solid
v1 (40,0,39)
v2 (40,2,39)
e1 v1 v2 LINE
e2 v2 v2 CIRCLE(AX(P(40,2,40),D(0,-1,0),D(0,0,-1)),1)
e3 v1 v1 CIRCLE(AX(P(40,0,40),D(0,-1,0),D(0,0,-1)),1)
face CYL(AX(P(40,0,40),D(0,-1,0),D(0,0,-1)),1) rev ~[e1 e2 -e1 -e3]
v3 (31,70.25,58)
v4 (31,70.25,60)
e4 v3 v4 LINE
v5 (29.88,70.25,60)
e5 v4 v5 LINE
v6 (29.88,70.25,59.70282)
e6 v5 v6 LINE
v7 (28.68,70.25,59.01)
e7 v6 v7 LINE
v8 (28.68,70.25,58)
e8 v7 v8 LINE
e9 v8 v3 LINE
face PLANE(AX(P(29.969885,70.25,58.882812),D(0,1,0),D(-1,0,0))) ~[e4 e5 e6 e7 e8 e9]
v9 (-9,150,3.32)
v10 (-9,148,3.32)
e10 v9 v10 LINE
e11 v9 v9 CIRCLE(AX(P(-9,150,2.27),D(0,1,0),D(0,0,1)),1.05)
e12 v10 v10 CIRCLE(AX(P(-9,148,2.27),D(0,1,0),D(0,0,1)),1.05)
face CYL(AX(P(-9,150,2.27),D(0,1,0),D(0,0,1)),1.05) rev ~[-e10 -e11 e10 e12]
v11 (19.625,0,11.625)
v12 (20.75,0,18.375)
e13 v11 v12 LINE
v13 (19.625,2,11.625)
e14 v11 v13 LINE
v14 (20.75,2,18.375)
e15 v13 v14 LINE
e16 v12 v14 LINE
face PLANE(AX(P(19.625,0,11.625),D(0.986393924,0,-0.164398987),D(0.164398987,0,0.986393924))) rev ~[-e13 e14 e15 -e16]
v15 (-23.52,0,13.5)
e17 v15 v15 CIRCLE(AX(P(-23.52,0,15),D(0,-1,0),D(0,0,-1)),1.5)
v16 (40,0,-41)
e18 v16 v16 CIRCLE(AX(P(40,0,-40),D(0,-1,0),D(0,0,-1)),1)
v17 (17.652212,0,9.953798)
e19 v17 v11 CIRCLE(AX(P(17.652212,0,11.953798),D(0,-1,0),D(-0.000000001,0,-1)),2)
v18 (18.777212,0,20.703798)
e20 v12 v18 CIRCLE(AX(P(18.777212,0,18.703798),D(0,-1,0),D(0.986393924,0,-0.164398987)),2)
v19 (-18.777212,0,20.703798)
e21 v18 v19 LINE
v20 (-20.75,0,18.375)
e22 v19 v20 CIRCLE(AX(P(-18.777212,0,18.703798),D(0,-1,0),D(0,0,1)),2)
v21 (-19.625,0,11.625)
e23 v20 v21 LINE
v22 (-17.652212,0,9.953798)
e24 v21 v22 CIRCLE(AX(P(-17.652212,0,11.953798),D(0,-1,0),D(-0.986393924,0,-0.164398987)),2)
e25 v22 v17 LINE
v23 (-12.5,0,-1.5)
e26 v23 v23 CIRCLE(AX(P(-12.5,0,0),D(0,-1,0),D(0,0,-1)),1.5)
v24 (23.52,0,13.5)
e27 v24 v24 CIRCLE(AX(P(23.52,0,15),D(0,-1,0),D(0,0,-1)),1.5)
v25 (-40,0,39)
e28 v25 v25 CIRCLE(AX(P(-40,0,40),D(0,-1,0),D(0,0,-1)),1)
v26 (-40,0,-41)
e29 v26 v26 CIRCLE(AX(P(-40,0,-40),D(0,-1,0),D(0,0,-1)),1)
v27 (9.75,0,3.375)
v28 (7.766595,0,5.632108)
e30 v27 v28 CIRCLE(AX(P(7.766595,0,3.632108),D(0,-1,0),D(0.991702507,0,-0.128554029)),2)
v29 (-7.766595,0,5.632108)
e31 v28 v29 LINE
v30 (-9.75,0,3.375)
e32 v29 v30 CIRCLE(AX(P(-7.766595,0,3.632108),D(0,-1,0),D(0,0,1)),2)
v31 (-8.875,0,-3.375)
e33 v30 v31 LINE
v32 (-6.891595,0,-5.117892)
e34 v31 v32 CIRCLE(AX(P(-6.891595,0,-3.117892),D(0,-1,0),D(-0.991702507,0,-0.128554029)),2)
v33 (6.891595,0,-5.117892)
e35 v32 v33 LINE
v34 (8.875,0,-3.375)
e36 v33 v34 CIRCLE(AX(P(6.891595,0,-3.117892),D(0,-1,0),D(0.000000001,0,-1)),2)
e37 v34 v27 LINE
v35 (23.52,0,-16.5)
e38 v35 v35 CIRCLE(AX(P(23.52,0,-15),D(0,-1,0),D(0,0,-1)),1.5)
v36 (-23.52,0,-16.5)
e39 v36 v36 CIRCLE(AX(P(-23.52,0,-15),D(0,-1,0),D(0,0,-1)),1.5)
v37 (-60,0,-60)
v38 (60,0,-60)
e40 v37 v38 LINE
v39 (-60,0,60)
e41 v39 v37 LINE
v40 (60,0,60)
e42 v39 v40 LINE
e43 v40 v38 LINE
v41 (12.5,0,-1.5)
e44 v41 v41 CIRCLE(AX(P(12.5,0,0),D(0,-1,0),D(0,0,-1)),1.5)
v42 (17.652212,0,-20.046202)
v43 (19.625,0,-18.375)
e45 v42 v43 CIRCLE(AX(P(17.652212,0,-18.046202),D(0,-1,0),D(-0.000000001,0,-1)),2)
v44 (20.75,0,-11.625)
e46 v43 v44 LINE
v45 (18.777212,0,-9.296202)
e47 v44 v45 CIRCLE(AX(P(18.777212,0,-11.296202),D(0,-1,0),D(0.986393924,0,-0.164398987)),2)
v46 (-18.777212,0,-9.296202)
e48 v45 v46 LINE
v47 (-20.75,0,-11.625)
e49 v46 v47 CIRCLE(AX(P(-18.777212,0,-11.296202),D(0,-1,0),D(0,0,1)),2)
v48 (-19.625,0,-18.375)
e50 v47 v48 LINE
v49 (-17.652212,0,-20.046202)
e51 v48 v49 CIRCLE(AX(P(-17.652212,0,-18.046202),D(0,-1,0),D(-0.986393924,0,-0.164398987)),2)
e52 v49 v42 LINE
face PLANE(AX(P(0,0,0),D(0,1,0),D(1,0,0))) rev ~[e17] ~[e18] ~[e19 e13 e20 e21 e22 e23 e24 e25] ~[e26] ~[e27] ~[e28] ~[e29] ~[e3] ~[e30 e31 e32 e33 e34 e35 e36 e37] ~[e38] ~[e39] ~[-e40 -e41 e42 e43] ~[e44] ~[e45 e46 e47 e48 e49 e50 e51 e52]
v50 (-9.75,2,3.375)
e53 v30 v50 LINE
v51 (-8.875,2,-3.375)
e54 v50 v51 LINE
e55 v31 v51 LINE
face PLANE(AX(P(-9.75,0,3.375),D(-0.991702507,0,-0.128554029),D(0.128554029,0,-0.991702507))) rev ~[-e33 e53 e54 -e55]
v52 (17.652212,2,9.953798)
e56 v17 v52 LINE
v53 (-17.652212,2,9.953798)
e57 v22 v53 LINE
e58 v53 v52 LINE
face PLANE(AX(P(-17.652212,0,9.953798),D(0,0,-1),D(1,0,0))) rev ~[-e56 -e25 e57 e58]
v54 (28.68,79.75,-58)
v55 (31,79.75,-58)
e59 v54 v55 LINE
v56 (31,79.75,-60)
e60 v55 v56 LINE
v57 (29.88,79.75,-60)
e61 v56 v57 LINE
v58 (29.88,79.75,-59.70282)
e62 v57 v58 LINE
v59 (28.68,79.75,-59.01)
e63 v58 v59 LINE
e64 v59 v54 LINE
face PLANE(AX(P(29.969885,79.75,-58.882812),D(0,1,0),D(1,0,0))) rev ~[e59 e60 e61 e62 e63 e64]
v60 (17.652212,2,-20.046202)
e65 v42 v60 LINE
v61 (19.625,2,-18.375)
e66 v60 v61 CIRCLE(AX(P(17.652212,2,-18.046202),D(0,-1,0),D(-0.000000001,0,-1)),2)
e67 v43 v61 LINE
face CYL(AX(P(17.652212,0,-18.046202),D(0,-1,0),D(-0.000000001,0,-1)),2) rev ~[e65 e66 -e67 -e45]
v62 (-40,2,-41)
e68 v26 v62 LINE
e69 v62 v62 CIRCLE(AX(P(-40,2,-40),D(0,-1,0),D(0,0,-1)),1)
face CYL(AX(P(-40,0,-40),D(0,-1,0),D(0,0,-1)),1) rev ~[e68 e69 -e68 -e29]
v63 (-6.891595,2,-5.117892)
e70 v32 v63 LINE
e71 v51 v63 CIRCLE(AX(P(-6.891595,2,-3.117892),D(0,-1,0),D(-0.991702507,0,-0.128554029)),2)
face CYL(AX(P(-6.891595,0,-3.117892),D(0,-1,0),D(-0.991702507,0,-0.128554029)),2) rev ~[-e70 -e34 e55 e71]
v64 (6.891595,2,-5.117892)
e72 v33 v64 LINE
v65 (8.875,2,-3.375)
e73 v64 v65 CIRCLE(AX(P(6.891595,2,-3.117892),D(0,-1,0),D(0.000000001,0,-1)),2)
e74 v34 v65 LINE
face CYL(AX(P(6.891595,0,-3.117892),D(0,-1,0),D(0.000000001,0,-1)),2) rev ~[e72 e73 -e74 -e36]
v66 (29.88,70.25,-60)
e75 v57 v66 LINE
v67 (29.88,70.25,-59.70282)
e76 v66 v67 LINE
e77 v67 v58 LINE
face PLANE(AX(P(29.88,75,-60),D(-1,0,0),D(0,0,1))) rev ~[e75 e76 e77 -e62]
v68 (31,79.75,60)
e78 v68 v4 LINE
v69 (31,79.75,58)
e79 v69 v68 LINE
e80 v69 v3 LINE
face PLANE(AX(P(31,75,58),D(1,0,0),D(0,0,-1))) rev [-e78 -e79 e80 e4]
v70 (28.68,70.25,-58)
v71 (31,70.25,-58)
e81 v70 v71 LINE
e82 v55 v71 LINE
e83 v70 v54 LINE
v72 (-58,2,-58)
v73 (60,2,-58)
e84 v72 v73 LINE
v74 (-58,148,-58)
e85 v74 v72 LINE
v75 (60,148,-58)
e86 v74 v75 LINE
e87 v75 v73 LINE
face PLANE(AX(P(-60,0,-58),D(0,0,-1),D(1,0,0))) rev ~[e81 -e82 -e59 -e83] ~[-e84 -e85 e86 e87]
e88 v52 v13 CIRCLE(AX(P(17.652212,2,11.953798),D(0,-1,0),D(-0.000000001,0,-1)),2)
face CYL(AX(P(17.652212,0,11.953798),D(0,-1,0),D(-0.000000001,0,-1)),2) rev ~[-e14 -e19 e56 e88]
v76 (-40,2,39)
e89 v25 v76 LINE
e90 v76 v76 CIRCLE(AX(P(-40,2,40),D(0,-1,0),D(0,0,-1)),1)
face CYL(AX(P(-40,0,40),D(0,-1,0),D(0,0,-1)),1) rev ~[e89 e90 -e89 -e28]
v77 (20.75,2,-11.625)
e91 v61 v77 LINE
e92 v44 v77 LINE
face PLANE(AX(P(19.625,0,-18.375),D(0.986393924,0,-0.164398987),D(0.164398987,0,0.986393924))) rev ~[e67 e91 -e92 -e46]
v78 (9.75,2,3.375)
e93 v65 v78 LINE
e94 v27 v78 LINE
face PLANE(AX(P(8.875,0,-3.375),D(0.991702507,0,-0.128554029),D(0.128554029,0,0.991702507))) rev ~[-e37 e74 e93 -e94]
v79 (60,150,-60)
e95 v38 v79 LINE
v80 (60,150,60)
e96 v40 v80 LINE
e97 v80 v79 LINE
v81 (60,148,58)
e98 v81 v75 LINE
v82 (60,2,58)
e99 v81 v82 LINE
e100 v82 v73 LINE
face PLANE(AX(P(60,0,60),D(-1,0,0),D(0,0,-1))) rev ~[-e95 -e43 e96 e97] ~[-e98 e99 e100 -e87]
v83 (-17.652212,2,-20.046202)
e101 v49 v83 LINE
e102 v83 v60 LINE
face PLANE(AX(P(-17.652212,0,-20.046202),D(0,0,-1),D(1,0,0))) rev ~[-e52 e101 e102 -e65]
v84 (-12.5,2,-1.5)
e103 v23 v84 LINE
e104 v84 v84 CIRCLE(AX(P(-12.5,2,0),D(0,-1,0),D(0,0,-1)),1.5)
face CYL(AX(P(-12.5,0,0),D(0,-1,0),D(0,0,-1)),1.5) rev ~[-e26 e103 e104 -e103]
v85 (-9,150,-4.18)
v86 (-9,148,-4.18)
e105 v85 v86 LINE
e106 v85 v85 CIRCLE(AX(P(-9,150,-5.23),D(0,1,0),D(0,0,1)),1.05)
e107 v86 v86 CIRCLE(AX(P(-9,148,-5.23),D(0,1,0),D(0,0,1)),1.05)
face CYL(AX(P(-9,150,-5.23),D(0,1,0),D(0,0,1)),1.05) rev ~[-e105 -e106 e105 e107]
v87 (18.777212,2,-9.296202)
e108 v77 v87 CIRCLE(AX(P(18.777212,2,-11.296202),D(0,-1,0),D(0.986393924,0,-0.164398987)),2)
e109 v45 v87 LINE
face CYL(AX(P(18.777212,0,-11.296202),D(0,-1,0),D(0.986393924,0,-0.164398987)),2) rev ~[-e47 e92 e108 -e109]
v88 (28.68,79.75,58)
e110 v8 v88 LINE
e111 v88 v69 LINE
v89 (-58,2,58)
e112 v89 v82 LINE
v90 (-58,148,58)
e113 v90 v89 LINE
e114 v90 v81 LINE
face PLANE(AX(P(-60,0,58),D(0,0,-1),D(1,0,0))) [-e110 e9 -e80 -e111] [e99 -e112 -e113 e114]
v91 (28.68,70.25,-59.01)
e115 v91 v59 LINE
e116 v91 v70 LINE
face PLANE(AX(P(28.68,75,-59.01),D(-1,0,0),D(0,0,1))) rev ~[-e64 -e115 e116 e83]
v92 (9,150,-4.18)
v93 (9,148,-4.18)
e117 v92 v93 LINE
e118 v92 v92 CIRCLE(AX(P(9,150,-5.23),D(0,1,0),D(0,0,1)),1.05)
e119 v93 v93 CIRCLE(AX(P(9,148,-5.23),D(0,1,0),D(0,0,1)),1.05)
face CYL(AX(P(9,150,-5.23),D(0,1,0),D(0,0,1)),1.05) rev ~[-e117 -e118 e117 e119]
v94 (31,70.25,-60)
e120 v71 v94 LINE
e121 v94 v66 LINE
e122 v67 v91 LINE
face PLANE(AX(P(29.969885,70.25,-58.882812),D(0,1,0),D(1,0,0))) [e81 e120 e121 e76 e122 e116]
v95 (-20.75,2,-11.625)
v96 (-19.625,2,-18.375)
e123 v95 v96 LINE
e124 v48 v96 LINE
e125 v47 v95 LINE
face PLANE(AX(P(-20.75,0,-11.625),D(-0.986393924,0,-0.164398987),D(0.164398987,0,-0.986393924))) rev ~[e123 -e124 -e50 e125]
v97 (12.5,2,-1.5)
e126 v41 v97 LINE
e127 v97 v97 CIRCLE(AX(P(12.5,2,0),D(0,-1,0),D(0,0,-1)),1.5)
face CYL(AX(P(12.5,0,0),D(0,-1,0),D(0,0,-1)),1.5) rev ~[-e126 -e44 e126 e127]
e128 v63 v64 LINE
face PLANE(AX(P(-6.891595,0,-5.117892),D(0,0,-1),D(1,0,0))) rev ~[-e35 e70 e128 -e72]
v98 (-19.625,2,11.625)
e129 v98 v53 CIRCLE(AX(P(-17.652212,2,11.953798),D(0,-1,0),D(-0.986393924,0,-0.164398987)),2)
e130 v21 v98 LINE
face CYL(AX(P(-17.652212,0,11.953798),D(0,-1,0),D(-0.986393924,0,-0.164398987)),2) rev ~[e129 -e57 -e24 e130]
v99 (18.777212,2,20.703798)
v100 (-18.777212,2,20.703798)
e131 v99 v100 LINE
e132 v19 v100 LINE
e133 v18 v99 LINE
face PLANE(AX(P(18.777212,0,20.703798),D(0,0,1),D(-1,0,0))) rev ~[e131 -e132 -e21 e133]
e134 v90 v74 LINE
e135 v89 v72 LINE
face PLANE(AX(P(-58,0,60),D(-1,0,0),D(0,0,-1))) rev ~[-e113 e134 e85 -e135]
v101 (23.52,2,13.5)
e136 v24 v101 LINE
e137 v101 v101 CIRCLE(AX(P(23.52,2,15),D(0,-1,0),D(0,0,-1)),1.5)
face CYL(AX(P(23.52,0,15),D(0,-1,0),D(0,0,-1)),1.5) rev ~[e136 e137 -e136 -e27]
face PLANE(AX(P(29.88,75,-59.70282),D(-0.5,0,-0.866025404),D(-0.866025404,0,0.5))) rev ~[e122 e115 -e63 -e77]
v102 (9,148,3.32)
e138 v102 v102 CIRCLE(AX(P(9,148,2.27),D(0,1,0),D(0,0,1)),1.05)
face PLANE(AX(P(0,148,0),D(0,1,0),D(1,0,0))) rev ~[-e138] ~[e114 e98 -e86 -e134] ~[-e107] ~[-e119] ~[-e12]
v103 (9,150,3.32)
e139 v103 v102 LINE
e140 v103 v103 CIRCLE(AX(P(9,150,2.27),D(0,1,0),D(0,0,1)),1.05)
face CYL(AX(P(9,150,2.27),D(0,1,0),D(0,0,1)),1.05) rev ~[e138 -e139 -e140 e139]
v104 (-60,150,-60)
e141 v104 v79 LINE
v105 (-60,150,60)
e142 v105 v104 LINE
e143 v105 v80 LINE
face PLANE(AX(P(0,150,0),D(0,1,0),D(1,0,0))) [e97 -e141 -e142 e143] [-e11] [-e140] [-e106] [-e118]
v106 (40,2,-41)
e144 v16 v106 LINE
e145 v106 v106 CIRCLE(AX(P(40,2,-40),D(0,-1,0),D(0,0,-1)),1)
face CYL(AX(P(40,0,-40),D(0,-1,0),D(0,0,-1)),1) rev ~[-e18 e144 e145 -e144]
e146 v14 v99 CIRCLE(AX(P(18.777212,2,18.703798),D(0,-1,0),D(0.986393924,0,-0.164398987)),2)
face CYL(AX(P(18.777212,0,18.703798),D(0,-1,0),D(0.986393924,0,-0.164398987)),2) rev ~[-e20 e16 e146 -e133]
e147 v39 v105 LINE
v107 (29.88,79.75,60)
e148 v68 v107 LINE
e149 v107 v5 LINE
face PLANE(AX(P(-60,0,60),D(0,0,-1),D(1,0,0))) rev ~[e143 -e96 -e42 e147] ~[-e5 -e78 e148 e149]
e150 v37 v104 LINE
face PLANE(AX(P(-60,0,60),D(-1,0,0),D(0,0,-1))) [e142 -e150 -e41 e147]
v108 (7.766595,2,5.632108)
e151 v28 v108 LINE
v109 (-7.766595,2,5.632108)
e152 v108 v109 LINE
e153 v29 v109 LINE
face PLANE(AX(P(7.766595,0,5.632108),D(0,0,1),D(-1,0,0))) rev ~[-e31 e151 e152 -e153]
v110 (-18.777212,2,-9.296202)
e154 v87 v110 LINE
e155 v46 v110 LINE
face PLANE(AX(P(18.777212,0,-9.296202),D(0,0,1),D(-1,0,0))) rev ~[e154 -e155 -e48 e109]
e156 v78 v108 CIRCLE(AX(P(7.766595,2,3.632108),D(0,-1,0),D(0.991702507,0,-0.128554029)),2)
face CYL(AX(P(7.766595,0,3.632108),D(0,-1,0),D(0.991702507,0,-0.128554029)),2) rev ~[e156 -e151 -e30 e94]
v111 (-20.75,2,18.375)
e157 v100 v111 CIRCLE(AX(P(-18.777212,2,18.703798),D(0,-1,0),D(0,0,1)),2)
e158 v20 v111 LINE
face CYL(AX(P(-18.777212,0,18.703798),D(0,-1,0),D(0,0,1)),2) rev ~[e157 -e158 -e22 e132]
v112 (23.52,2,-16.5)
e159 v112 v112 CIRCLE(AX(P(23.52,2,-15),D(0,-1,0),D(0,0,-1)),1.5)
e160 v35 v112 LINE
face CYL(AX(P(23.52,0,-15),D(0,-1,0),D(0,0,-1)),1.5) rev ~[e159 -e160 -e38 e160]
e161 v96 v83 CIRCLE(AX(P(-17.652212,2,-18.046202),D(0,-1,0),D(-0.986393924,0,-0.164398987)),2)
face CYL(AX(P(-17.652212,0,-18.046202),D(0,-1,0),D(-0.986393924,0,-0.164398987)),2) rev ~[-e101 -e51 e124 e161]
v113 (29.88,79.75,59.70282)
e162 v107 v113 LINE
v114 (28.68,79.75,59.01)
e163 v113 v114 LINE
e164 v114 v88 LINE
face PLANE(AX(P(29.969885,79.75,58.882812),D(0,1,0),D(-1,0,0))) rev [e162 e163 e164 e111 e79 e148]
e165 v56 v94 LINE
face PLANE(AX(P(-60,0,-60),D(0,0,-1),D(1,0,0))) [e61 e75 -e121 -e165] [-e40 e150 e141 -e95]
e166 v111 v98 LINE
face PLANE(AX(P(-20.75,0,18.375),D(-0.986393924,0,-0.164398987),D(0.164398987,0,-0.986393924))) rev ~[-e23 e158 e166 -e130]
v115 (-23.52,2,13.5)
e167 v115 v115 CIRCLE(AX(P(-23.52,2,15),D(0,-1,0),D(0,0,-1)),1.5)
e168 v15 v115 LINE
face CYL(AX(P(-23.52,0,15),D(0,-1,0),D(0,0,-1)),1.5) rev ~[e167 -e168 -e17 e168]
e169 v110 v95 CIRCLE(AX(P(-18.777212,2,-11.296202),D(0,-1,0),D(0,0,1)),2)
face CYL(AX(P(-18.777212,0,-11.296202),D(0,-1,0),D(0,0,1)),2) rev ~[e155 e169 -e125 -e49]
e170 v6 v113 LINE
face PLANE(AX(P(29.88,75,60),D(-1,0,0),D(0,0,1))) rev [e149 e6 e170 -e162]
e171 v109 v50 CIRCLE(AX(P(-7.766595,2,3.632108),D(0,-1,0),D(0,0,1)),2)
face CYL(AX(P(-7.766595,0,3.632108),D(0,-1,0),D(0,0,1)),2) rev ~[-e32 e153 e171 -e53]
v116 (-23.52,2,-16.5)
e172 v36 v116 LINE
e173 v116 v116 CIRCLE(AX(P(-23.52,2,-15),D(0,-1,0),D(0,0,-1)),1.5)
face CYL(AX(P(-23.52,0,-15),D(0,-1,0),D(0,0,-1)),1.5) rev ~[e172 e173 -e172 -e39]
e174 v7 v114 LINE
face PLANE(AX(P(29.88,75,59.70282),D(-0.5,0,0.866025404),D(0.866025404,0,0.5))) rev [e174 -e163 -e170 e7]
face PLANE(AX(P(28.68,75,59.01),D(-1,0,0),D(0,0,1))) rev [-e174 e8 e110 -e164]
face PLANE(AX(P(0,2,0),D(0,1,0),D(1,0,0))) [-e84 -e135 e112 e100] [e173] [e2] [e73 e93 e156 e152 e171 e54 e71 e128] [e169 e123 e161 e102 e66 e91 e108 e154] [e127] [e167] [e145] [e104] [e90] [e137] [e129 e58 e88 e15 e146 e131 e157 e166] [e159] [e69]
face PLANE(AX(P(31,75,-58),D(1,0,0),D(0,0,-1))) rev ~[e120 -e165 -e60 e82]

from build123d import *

# Parameters (mm, degrees)
SKETCH1_W             = 120
SKETCH1_H             = 120
MAIN_BODY_DEPTH       = 150
HOLLOW_INSIDE_T       = -2
MAIN_PCB_HOLES_REACH  = 174.337
SKETCH2_R             = 1
LED_PCB_HOLES_REACH   = 174.337
SKETCH3_R             = 1.05
CONNECTOR_SLOTS_REACH = 174.337
SKETCH4_R             = 1.5
CUT_EXTRUDE1_DEPTH    = 4.75


with BuildPart() as part:
    # Sketch1 → Main-Body (new body)
    with BuildSketch(Plane(origin=(0, 0, 0), x_dir=(1, 0, 0), z_dir=(0, 1, 0))):
        Rectangle(SKETCH1_W, SKETCH1_H)
    extrude(amount=MAIN_BODY_DEPTH)

    # Hollow-Inside
    hollow_inside_openings = [part.faces().sort_by_distance(p)[0] for p in [
        (60, 75, 0),
    ]]
    offset(amount=HOLLOW_INSIDE_T, openings=hollow_inside_openings, kind=Kind.INTERSECTION)

    # Sketch2 → Main-PCB-Holes (cut, up to next)
    with BuildSketch(Plane.XZ, mode=Mode.PRIVATE) as main_pcb_holes_sk1:
        with Locations(Location((-40, 40, 0), (0, 0, 270))):
            Circle(SKETCH2_R)
    main_pcb_holes_tool1 = extrude(main_pcb_holes_sk1.sketch, amount=-MAIN_PCB_HOLES_REACH, mode=Mode.PRIVATE) & part.part
    # Sketch2 → Main-PCB-Holes (cut, up to next)
    with BuildSketch(Plane.XZ, mode=Mode.PRIVATE) as main_pcb_holes_sk2:
        with Locations(Location((40, 40, 0), (0, 0, 270))):
            Circle(SKETCH2_R)
    main_pcb_holes_tool2 = extrude(main_pcb_holes_sk2.sketch, amount=-MAIN_PCB_HOLES_REACH, mode=Mode.PRIVATE) & part.part
    # Sketch2 → Main-PCB-Holes (cut, up to next)
    with BuildSketch(Plane.XZ, mode=Mode.PRIVATE) as main_pcb_holes_sk3:
        with Locations(Location((40, -40, 0), (0, 0, 270))):
            Circle(SKETCH2_R)
    main_pcb_holes_tool3 = extrude(main_pcb_holes_sk3.sketch, amount=-MAIN_PCB_HOLES_REACH, mode=Mode.PRIVATE) & part.part
    # Sketch2 → Main-PCB-Holes (cut, up to next)
    with BuildSketch(Plane.XZ, mode=Mode.PRIVATE) as main_pcb_holes_sk4:
        with Locations(Location((-40, -40, 0), (0, 0, 270))):
            Circle(SKETCH2_R)
    main_pcb_holes_tool4 = extrude(main_pcb_holes_sk4.sketch, amount=-MAIN_PCB_HOLES_REACH, mode=Mode.PRIVATE) & part.part
    add(main_pcb_holes_tool1.solids().sort_by_distance((-40, 0, 40))[0], mode=Mode.SUBTRACT)
    add(main_pcb_holes_tool2.solids().sort_by_distance((40, 0, 40))[0], mode=Mode.SUBTRACT)
    add(main_pcb_holes_tool3.solids().sort_by_distance((40, 0, -40))[0], mode=Mode.SUBTRACT)
    add(main_pcb_holes_tool4.solids().sort_by_distance((-40, 0, -40))[0], mode=Mode.SUBTRACT)

    # Sketch3 → LED-PCB-Holes (cut, up to next)
    with BuildSketch(Plane(origin=(0, 150, 0), x_dir=(1, 0, 0), z_dir=(0, 1, 0)), mode=Mode.PRIVATE) as led_pcb_holes_sk1:
        with Locations(Location((-9, 5.23, 0), (0, 0, 270))):
            Circle(SKETCH3_R)
    led_pcb_holes_tool1 = extrude(led_pcb_holes_sk1.sketch, amount=-LED_PCB_HOLES_REACH, mode=Mode.PRIVATE) & part.part
    # Sketch3 → LED-PCB-Holes (cut, up to next)
    with BuildSketch(Plane(origin=(0, 150, 0), x_dir=(1, 0, 0), z_dir=(0, 1, 0)), mode=Mode.PRIVATE) as led_pcb_holes_sk2:
        with Locations(Location((9, 5.23, 0), (0, 0, 270))):
            Circle(SKETCH3_R)
    led_pcb_holes_tool2 = extrude(led_pcb_holes_sk2.sketch, amount=-LED_PCB_HOLES_REACH, mode=Mode.PRIVATE) & part.part
    # Sketch3 → LED-PCB-Holes (cut, up to next)
    with BuildSketch(Plane(origin=(0, 150, 0), x_dir=(1, 0, 0), z_dir=(0, 1, 0)), mode=Mode.PRIVATE) as led_pcb_holes_sk3:
        with Locations(Location((9, -2.27, 0), (0, 0, 270))):
            Circle(SKETCH3_R)
    led_pcb_holes_tool3 = extrude(led_pcb_holes_sk3.sketch, amount=-LED_PCB_HOLES_REACH, mode=Mode.PRIVATE) & part.part
    # Sketch3 → LED-PCB-Holes (cut, up to next)
    with BuildSketch(Plane(origin=(0, 150, 0), x_dir=(1, 0, 0), z_dir=(0, 1, 0)), mode=Mode.PRIVATE) as led_pcb_holes_sk4:
        with Locations(Location((-9, -2.27, 0), (0, 0, 270))):
            Circle(SKETCH3_R)
    led_pcb_holes_tool4 = extrude(led_pcb_holes_sk4.sketch, amount=-LED_PCB_HOLES_REACH, mode=Mode.PRIVATE) & part.part
    add(led_pcb_holes_tool1.solids().sort_by_distance((-9, 150, -5.23))[0], mode=Mode.SUBTRACT)
    add(led_pcb_holes_tool2.solids().sort_by_distance((9, 150, -5.23))[0], mode=Mode.SUBTRACT)
    add(led_pcb_holes_tool3.solids().sort_by_distance((9, 150, 2.27))[0], mode=Mode.SUBTRACT)
    add(led_pcb_holes_tool4.solids().sort_by_distance((-9, 150, 2.27))[0], mode=Mode.SUBTRACT)

    # Sketch4 → Connector-Slots (cut, up to next)
    with BuildSketch(Plane.XZ, mode=Mode.PRIVATE) as connector_slots_sk1:
        with Locations(Location((-12.5, 0, 0), (0, 0, 270))):
            Circle(SKETCH4_R)
    connector_slots_tool1 = extrude(connector_slots_sk1.sketch, amount=-CONNECTOR_SLOTS_REACH, mode=Mode.PRIVATE) & part.part
    # Sketch4 → Connector-Slots (cut, up to next)
    with BuildSketch(Plane.XZ, mode=Mode.PRIVATE) as connector_slots_sk2:
        with Locations(Location((12.5, 0, 0), (0, 0, 270))):
            Circle(SKETCH4_R)
    connector_slots_tool2 = extrude(connector_slots_sk2.sketch, amount=-CONNECTOR_SLOTS_REACH, mode=Mode.PRIVATE) & part.part
    # Sketch4 → Connector-Slots (cut, up to next)
    with BuildSketch(Plane.XZ, mode=Mode.PRIVATE) as connector_slots_sk3:
        with Locations(Location((-23.52, -15, 0), (0, 0, 270))):
            Circle(SKETCH4_R)
    connector_slots_tool3 = extrude(connector_slots_sk3.sketch, amount=-CONNECTOR_SLOTS_REACH, mode=Mode.PRIVATE) & part.part
    # Sketch4 → Connector-Slots (cut, up to next)
    with BuildSketch(Plane.XZ, mode=Mode.PRIVATE) as connector_slots_sk4:
        with Locations(Location((23.52, -15, 0), (0, 0, 270))):
            Circle(SKETCH4_R)
    connector_slots_tool4 = extrude(connector_slots_sk4.sketch, amount=-CONNECTOR_SLOTS_REACH, mode=Mode.PRIVATE) & part.part
    # Sketch4 → Connector-Slots (cut, up to next)
    with BuildSketch(Plane.XZ, mode=Mode.PRIVATE) as connector_slots_sk5:
        with Locations(Location((-23.52, 15, 0), (0, 0, 270))):
            Circle(SKETCH4_R)
    connector_slots_tool5 = extrude(connector_slots_sk5.sketch, amount=-CONNECTOR_SLOTS_REACH, mode=Mode.PRIVATE) & part.part
    # Sketch4 → Connector-Slots (cut, up to next)
    with BuildSketch(Plane.XZ, mode=Mode.PRIVATE) as connector_slots_sk6:
        with Locations(Location((23.52, 15, 0), (0, 0, 270))):
            Circle(SKETCH4_R)
    connector_slots_tool6 = extrude(connector_slots_sk6.sketch, amount=-CONNECTOR_SLOTS_REACH, mode=Mode.PRIVATE) & part.part
    # Sketch4 → Connector-Slots (cut, up to next)
    with BuildSketch(Plane.XZ, mode=Mode.PRIVATE) as connector_slots_sk7:
        with BuildLine():
            Line((-6.891594987, -5.117891943), (6.891594987, -5.117891943))
            ThreePointArc((6.891594987, -5.117891943), (8.211781315, -4.620259427), (8.875, -3.375))
            Line((8.875, -3.375), (9.75, 3.375))
            ThreePointArc((9.75, 3.375), (9.268962471, 4.952294386), (7.766594987, 5.632108057))
            Line((7.766594987, 5.632108057), (-7.766594987, 5.632108057))
            ThreePointArc((-7.766594987, 5.632108057), (-9.268962471, 4.952294386), (-9.75, 3.375))
            Line((-9.75, 3.375), (-8.875, -3.375))
            ThreePointArc((-8.875, -3.375), (-8.211781315, -4.620259427), (-6.891594987, -5.117891943))
        make_face()
    connector_slots_tool7 = extrude(connector_slots_sk7.sketch, amount=-CONNECTOR_SLOTS_REACH, mode=Mode.PRIVATE) & part.part
    # Sketch4 → Connector-Slots (cut, up to next)
    with BuildSketch(Plane.XZ, mode=Mode.PRIVATE) as connector_slots_sk8:
        with BuildLine():
            Line((-17.652212152, -20.046202025), (17.652212152, -20.046202025))
            ThreePointArc((17.652212152, -20.046202025), (18.944961945, -19.57224199), (19.625, -18.375))
            Line((19.625, -18.375), (20.75, -11.625))
            ThreePointArc((20.75, -11.625), (20.303252117, -10.003452233), (18.777212152, -9.296202025))
            Line((18.777212152, -9.296202025), (-18.777212152, -9.296202025))
            ThreePointArc((-18.777212152, -9.296202025), (-20.303252117, -10.003452233), (-20.75, -11.625))
            Line((-20.75, -11.625), (-19.625, -18.375))
            ThreePointArc((-19.625, -18.375), (-18.944961945, -19.57224199), (-17.652212152, -20.046202025))
        make_face()
    connector_slots_tool8 = extrude(connector_slots_sk8.sketch, amount=-CONNECTOR_SLOTS_REACH, mode=Mode.PRIVATE) & part.part
    # Sketch4 → Connector-Slots (cut, up to next)
    with BuildSketch(Plane.XZ, mode=Mode.PRIVATE) as connector_slots_sk9:
        with BuildLine():
            Line((-17.652212152, 9.953797975), (17.652212152, 9.953797975))
            ThreePointArc((17.652212152, 9.953797975), (18.944961945, 10.42775801), (19.625, 11.625))
            Line((19.625, 11.625), (20.75, 18.375))
            ThreePointArc((20.75, 18.375), (20.303252117, 19.996547767), (18.777212152, 20.703797975))
            Line((18.777212152, 20.703797975), (-18.777212152, 20.703797975))
            ThreePointArc((-18.777212152, 20.703797975), (-20.303252117, 19.996547767), (-20.75, 18.375))
            Line((-20.75, 18.375), (-19.625, 11.625))
            ThreePointArc((-19.625, 11.625), (-18.944961945, 10.42775801), (-17.652212152, 9.953797975))
        make_face()
    connector_slots_tool9 = extrude(connector_slots_sk9.sketch, amount=-CONNECTOR_SLOTS_REACH, mode=Mode.PRIVATE) & part.part
    add(connector_slots_tool1.solids().sort_by_distance((-12.5, 0, 0))[0], mode=Mode.SUBTRACT)
    add(connector_slots_tool2.solids().sort_by_distance((12.5, 0, 0))[0], mode=Mode.SUBTRACT)
    add(connector_slots_tool3.solids().sort_by_distance((-23.52, 0, -15))[0], mode=Mode.SUBTRACT)
    add(connector_slots_tool4.solids().sort_by_distance((23.52, 0, -15))[0], mode=Mode.SUBTRACT)
    add(connector_slots_tool5.solids().sort_by_distance((-23.52, 0, 15))[0], mode=Mode.SUBTRACT)
    add(connector_slots_tool6.solids().sort_by_distance((23.52, 0, 15))[0], mode=Mode.SUBTRACT)
    add(connector_slots_tool7.solids().sort_by_distance((0, 0, 0.368259))[0], mode=Mode.SUBTRACT)
    add(connector_slots_tool8.solids().sort_by_distance((0, 0, -14.605881))[0], mode=Mode.SUBTRACT)
    add(connector_slots_tool9.solids().sort_by_distance((0, 0, 15.394119))[0], mode=Mode.SUBTRACT)

    # Sketch12 → Cut-Extrude1 (cut, symmetric)
    with BuildSketch(Plane(origin=(0, 75, 0), x_dir=(1, 0, 0), z_dir=(0, 1, 0))):
        Polygon((30.88, 60), (29.88, 60), (29.88, 59.702820323), (28.68, 59.01), (28.68, 58), (30.88, 58), (31, 58), (31, 60), align=None)
    cut_extrude1 = extrude(amount=CUT_EXTRUDE1_DEPTH, both=True, mode=Mode.SUBTRACT)

    # Mirror1: Cut-Extrude1 across plane
    add(cut_extrude1.mirror(Plane.XY), mode=Mode.SUBTRACT)


solid = part.part
